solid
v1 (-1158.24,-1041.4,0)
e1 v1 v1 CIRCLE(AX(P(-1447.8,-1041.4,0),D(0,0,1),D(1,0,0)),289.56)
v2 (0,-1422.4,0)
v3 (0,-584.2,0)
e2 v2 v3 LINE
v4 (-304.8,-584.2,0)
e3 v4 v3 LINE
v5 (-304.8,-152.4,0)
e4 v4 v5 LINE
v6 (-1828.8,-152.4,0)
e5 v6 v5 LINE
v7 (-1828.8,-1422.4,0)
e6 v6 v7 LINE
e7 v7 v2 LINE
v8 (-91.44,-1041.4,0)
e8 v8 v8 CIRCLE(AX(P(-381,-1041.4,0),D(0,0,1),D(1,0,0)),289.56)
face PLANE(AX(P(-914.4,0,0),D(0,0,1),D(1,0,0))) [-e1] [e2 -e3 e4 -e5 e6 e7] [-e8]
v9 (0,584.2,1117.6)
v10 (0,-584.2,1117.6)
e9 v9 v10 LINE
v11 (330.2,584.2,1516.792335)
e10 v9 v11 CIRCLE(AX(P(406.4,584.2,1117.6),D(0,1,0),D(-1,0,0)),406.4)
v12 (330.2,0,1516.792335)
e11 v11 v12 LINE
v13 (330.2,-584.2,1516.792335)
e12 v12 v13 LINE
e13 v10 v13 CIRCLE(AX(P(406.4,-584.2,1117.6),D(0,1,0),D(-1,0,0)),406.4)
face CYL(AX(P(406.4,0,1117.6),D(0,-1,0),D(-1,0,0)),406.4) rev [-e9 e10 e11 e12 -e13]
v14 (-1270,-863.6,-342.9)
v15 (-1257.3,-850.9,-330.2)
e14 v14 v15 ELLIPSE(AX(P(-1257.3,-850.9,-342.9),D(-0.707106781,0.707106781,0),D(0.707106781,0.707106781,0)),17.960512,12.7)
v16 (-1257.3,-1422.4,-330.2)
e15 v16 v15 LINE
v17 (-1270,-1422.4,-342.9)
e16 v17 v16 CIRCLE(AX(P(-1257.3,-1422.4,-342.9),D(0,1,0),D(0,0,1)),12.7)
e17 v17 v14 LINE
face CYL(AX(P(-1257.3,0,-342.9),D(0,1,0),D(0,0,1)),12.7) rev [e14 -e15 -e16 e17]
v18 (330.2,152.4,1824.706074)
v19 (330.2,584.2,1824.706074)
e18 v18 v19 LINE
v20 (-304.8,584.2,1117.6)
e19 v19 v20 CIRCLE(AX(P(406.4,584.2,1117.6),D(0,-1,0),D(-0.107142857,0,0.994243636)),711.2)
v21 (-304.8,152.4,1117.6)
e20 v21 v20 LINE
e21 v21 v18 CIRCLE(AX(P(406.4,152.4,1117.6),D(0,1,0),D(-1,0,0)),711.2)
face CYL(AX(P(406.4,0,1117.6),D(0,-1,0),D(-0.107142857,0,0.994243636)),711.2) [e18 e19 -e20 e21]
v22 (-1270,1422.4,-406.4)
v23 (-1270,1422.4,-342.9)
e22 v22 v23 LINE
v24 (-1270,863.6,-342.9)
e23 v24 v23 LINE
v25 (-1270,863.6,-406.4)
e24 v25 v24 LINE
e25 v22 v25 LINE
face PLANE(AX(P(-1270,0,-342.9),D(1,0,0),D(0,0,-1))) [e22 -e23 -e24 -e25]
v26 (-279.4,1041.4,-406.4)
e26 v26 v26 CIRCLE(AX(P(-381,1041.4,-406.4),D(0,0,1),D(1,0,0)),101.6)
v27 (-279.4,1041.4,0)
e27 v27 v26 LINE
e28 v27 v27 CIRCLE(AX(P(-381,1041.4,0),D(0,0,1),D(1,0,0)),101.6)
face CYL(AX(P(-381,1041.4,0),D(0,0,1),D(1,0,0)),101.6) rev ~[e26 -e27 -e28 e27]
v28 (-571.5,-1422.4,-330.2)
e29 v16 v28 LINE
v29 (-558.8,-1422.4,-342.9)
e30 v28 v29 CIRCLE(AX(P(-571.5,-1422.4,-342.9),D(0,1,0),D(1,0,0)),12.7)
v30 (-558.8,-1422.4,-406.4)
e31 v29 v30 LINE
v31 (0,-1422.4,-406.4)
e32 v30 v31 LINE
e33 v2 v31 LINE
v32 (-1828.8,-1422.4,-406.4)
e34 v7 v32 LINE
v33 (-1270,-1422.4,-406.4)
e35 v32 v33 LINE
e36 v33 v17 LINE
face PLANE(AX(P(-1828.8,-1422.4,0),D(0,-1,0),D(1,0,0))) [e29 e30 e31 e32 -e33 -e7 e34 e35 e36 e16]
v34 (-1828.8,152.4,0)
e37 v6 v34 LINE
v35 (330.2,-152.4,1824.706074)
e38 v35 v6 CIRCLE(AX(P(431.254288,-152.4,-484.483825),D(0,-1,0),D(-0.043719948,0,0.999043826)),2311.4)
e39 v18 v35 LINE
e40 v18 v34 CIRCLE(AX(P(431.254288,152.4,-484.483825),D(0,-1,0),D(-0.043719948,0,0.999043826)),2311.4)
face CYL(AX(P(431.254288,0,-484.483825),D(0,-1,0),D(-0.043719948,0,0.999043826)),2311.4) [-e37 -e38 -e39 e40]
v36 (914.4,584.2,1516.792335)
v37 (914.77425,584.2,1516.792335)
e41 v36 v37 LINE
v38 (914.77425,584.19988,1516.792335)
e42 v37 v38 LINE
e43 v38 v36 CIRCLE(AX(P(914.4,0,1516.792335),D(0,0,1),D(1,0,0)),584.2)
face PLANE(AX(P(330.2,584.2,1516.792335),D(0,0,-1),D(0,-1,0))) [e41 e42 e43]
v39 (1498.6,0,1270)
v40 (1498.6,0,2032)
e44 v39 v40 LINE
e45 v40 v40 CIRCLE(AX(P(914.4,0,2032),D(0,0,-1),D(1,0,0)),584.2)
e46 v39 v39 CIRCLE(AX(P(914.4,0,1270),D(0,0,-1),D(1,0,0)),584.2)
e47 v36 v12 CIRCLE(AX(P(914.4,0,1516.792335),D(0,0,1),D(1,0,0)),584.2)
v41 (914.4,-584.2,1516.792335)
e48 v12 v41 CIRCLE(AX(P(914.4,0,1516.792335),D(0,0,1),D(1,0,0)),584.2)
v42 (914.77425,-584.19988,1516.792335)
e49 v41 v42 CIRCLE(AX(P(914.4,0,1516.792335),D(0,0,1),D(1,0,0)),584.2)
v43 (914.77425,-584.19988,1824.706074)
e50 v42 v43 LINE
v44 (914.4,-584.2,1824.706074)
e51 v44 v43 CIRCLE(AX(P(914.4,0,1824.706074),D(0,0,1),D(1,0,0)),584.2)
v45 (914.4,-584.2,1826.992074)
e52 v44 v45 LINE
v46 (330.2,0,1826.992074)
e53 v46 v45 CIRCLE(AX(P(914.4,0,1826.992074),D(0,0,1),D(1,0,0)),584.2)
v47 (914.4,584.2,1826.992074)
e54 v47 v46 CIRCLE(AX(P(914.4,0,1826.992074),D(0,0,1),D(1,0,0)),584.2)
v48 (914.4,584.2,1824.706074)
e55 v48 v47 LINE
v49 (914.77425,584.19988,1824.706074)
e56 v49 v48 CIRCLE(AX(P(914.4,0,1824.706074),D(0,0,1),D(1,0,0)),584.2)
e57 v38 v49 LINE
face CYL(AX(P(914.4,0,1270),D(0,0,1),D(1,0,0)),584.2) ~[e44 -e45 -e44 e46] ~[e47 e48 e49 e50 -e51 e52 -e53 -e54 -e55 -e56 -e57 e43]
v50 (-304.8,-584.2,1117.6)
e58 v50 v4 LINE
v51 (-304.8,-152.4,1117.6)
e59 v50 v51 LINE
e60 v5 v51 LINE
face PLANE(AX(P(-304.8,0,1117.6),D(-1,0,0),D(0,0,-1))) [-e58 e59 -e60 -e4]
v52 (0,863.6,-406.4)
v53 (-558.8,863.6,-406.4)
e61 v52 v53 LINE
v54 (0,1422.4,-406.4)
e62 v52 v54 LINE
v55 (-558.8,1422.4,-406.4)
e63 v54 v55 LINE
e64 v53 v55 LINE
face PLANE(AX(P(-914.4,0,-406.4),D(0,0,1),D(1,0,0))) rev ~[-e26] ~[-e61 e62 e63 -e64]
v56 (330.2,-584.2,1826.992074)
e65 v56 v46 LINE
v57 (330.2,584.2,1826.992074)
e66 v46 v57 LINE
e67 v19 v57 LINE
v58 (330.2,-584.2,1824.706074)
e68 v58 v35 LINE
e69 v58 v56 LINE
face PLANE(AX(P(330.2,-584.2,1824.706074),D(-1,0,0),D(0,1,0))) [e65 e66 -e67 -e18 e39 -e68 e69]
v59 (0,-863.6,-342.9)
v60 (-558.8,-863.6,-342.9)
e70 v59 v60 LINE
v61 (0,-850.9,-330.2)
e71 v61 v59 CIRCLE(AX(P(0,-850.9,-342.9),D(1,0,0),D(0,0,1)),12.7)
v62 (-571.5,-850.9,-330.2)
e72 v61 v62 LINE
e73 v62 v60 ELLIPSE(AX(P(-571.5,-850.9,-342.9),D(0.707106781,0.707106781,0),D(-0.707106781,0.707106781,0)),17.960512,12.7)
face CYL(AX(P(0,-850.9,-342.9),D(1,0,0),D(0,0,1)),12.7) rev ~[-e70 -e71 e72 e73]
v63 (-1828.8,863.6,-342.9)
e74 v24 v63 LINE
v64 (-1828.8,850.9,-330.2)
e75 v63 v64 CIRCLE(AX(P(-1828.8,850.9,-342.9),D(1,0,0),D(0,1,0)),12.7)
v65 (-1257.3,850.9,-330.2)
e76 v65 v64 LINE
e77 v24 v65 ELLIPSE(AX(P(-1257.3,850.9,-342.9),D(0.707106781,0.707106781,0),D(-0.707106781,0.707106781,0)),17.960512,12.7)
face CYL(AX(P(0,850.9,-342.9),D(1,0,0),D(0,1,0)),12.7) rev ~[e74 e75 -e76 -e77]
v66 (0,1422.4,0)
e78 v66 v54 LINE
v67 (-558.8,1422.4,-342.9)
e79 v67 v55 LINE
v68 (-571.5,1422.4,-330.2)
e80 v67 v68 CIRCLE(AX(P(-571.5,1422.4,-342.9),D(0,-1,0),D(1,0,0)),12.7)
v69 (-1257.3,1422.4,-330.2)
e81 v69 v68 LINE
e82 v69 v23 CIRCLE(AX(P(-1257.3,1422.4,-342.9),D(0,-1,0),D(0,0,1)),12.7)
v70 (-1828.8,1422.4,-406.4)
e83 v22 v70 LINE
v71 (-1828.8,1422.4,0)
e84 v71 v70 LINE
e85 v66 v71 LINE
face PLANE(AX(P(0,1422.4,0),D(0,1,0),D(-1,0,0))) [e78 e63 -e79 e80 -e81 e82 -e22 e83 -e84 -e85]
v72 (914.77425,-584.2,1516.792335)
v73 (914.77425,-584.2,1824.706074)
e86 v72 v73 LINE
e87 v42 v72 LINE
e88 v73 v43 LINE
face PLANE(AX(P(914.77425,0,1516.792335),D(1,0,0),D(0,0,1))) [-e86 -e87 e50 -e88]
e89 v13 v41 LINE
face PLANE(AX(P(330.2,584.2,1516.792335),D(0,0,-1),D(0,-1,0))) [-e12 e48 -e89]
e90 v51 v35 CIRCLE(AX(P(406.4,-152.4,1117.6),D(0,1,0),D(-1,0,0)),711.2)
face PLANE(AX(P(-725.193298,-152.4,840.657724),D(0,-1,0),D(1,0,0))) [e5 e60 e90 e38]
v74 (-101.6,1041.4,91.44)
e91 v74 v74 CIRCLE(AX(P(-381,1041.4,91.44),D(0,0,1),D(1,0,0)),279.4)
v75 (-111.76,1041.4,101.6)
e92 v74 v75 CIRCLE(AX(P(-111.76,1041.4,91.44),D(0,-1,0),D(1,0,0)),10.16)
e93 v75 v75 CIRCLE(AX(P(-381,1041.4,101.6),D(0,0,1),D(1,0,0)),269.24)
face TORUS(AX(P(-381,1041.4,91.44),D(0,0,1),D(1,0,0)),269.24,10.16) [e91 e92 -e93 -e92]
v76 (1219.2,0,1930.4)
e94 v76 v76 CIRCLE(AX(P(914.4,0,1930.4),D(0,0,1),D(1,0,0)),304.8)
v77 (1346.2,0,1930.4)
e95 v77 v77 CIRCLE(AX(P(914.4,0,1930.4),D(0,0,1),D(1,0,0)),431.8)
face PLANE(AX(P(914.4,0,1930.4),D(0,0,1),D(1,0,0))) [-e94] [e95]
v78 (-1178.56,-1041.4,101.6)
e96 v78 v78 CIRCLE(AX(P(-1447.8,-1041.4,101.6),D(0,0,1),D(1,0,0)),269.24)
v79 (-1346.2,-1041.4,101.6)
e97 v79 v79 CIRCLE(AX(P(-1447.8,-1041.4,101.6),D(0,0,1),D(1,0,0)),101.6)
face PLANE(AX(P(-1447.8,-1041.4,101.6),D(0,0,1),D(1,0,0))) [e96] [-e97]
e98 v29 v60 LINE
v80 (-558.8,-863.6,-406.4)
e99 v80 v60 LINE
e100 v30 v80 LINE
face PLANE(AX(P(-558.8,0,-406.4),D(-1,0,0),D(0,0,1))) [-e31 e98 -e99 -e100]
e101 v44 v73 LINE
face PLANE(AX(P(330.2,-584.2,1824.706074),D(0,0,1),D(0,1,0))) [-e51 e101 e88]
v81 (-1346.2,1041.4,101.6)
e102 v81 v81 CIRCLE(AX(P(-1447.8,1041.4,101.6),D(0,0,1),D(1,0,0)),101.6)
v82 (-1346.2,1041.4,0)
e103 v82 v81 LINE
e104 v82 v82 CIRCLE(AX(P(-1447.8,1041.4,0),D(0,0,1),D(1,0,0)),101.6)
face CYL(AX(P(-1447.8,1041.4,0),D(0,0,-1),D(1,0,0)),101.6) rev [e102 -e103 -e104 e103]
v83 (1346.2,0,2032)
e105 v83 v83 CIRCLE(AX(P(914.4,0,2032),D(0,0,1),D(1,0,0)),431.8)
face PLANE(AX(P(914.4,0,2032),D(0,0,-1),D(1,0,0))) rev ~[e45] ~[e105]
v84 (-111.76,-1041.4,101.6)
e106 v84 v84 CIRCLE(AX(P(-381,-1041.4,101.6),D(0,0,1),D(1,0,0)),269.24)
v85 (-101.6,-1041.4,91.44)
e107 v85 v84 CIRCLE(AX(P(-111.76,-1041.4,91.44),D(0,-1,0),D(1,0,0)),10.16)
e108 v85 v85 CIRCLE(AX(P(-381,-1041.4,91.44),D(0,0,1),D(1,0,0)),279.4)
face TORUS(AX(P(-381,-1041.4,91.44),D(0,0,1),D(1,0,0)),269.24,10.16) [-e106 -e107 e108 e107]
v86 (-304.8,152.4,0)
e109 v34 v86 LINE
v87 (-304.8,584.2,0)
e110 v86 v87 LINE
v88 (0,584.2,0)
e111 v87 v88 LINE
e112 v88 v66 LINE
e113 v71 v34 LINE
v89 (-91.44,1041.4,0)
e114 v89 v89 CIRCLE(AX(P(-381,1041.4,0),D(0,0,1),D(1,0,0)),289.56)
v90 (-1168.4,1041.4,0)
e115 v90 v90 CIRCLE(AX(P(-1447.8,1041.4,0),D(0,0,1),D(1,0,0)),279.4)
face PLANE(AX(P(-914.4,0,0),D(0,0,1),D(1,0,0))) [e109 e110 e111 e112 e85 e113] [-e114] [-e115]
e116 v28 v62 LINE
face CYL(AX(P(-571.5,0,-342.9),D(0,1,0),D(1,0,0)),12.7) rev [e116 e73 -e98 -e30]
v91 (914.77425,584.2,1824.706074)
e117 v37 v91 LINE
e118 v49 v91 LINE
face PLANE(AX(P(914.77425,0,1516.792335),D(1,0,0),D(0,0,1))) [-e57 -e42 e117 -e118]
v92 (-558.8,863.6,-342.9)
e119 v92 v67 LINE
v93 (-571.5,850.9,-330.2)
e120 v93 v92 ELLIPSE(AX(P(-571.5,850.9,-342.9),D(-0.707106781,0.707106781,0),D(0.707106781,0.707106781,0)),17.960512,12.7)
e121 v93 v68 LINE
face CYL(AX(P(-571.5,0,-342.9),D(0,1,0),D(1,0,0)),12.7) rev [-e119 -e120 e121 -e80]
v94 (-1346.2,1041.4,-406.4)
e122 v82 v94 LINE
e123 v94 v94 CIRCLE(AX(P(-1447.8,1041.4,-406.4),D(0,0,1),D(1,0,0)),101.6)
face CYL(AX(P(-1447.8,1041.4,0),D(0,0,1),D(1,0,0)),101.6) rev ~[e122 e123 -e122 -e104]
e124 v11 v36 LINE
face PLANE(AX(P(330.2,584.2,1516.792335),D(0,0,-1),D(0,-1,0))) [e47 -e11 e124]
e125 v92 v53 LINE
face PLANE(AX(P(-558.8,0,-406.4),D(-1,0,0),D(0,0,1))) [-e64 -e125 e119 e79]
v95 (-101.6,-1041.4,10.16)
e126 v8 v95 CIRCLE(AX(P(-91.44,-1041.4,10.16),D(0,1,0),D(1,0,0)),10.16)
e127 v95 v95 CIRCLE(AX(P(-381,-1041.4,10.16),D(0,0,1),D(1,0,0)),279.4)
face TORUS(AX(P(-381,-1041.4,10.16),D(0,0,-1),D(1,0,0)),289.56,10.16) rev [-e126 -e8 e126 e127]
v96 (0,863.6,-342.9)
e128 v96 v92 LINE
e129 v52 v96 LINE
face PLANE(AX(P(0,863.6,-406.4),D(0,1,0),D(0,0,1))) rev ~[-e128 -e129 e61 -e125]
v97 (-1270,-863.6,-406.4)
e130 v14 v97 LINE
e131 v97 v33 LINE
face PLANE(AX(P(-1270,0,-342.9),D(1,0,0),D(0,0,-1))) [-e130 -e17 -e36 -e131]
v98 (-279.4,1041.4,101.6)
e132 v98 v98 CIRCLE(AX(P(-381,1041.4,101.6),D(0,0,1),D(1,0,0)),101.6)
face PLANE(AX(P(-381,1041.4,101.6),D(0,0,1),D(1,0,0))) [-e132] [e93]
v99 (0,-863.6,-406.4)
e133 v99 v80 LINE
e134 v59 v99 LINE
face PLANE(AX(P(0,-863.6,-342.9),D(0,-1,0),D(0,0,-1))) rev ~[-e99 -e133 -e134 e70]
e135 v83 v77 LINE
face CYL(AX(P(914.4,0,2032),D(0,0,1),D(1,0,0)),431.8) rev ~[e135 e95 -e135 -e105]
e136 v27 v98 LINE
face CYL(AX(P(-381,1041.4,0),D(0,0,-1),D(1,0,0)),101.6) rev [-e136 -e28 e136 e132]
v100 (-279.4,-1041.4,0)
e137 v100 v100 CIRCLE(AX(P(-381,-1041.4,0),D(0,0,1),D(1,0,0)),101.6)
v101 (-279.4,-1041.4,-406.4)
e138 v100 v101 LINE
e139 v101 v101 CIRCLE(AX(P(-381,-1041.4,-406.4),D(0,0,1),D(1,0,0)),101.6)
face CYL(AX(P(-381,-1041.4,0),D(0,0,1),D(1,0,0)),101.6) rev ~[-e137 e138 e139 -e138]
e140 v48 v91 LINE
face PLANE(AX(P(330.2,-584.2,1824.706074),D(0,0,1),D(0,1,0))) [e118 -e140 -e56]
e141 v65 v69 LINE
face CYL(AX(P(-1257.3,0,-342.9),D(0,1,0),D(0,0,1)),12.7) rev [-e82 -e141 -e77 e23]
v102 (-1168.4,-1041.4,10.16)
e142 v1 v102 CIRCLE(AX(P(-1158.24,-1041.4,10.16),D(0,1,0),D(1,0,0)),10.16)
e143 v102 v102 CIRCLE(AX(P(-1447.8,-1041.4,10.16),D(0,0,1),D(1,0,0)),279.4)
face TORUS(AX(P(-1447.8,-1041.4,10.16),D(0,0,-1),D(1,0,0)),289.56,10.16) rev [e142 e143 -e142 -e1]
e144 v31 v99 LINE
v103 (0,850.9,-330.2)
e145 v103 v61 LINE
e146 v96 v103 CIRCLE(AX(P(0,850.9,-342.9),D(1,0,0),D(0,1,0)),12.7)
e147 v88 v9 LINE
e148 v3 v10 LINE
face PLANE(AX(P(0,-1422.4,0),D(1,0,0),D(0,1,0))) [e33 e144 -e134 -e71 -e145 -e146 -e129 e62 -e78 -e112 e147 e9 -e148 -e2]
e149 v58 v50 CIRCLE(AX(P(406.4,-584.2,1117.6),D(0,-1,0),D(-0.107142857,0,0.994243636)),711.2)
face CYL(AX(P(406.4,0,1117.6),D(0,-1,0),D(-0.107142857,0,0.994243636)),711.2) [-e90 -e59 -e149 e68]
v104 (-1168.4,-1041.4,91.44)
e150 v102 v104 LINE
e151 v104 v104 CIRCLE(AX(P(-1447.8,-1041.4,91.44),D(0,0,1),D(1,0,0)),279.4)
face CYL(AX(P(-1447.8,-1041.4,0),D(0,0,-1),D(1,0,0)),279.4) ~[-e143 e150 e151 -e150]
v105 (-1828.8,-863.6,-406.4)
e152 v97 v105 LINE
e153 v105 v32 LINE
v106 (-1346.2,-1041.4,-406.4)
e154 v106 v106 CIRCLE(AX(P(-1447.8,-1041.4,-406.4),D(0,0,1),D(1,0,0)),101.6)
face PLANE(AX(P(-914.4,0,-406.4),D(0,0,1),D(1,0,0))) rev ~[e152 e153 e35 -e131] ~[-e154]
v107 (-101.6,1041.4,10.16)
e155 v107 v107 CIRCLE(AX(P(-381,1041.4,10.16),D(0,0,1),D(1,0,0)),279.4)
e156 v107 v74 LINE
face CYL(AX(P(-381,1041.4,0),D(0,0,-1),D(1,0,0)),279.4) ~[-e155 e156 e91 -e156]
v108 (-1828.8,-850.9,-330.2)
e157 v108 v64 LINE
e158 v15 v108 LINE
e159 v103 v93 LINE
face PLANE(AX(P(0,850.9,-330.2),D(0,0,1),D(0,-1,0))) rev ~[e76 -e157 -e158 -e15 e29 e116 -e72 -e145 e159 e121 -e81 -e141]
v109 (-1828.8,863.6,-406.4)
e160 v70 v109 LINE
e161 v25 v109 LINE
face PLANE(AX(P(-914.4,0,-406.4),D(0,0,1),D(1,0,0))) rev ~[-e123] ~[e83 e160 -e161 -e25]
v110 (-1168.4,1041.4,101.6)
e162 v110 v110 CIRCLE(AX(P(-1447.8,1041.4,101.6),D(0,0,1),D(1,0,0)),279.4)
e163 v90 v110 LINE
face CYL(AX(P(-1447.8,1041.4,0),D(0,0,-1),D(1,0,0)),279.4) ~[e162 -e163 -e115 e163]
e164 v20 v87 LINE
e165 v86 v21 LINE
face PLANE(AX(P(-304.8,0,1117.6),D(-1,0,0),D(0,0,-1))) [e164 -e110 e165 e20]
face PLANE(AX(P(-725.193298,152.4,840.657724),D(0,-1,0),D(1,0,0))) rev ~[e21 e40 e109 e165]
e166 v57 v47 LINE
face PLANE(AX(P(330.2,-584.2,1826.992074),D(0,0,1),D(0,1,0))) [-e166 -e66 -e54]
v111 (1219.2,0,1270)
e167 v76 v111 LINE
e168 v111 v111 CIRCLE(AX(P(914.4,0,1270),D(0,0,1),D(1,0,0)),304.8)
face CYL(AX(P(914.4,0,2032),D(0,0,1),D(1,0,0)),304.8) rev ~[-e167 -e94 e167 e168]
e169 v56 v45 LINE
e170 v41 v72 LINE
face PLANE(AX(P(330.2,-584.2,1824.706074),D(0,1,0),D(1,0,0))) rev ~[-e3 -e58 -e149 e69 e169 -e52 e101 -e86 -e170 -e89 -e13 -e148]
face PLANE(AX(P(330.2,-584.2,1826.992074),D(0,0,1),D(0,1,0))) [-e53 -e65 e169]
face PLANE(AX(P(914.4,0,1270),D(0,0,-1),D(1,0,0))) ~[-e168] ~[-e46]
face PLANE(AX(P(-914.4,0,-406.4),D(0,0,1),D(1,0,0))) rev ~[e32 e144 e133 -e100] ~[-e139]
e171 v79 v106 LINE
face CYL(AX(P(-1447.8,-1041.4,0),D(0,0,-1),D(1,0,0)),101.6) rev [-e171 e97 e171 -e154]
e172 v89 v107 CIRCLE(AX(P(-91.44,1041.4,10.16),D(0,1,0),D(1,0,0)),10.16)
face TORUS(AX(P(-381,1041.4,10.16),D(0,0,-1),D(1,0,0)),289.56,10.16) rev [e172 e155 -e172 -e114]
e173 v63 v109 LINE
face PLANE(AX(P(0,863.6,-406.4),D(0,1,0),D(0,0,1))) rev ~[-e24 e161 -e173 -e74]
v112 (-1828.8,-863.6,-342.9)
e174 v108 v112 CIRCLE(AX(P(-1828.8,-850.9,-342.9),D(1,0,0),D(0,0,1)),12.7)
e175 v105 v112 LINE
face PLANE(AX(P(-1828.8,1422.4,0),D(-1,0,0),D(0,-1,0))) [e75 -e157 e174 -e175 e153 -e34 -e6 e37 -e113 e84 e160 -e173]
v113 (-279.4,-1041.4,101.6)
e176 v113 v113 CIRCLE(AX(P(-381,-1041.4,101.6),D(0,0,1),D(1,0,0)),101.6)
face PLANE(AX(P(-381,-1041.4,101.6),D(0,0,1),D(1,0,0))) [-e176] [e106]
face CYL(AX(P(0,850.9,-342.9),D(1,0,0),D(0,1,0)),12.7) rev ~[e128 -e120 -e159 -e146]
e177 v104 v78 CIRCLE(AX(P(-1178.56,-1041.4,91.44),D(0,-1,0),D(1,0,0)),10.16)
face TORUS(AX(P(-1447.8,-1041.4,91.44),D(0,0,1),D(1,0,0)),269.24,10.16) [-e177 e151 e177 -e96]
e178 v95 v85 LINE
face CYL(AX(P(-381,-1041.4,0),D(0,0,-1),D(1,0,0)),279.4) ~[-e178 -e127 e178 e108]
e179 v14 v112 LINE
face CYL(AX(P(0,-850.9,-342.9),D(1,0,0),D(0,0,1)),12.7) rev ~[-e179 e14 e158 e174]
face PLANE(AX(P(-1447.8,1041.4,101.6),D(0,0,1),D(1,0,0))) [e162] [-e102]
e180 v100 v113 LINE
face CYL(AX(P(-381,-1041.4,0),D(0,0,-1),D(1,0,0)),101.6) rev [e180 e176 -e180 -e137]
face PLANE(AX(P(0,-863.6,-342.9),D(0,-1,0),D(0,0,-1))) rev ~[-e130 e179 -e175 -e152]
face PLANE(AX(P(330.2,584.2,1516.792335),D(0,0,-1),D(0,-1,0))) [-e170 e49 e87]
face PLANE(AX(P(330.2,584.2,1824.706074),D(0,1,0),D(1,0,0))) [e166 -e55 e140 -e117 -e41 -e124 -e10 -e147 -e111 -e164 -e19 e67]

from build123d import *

# Parameters (mm, degrees)
F3_DEPTH  = 584.2
F4_DEPTH  = 584.57425
F6_DEPTH  = 152.4
F1_R      = 279.4
F1_R_2    = 101.6
F7_DEPTH  = 406.4
F8_DEPTH  = 101.6
F9_DEPTH  = 1422.401
F10_DEPTH = 1422.401
F11_DEPTH = 2.286
F12_R     = 304.8
F13_DEPTH = 2438.401
F12_R_2   = 431.8
F14_DEPTH = 101.6
F16_DEPTH = 1828.801
F17_R     = 10.16


with BuildPart() as f2:
    # F0 (on Front) → F2 (revolve)
    with BuildSketch(Plane.XZ):
        Polygon((914.4, 1524), (914.4, 1270), (1498.6, 1270), (1498.6, 2032), (914.4, 2032), (914.4, 1828.8), align=None)
    revolve(axis=Axis((914.4, 0, 1651), (0, 0, -1)))


with BuildPart() as f3:
    # F0 (on Front) → F3 (new body, symmetric)
    with BuildSketch(Plane.XZ):
        with BuildLine():
            Line((-304.8, 0), (0, 0))
            Line((0, 0), (0, 1117.6))
            ThreePointArc((0, 1117.6), (93.2477686492, 1376.6301912905), (330.2, 1516.7923345957))
            Line((330.2, 1516.7923345957), (330.2, 1824.7060740794))
            ThreePointArc((330.2, 1824.7060740794), (-122.7497330624, 1592.7904881203), (-304.8, 1117.6))
            Line((-304.8, 1117.6), (-304.8, 0))
        make_face()
    extrude(amount=F3_DEPTH, both=True)


with BuildPart() as f4:
    # F4 (new): a face of the model
    f4_faces = [f3.part.faces().sort_by_distance(p)[0] for p in [
        (330.2, 0, 1670.7492043376),
    ]]
    extrude(f4_faces, amount=F4_DEPTH)


with BuildPart() as f2_1:
    add(f2.part)

    # F5: union F3, F4
    add(f3.part)
    add(f4.part)



with BuildPart() as f6:
    # F0 (on Front) → F6 (new body, symmetric)
    with BuildSketch(Plane.XZ):
        with BuildLine():
            Line((-563.1106240493, 0), (-304.8, 0))
            Line((-304.8, 0), (-304.8, 1117.6))
            ThreePointArc((-304.8, 1117.6), (-122.7497330624, 1592.7904881203), (330.2, 1824.7060740794))
            ThreePointArc((330.2, 1824.7060740794), (-1060.7566004757, 1280.8698135108), (-1828.8, 0))
            Line((-1828.8, 0), (-563.1106240493, 0))
        make_face()
    extrude(amount=F6_DEPTH, both=True)


with BuildPart() as f2_2:
    add(f2_1.part)

    add(f6.part)  # F7 merges F6
    # F1 (on Top) → F7 (join)
    with BuildSketch(Plane.XY):
        Polygon((-1828.8, 1422.4), (-1828.8, 0), (-1828.8, -1422.4), (0, -1422.4), (0, 1422.4), align=None)
        with Locations((-1447.8, -1041.4)):
            Circle(F1_R, mode=Mode.SUBTRACT)
        with Locations((-381, -1041.4)):
            Circle(F1_R, mode=Mode.SUBTRACT)
        with Locations((-1447.8, 1041.4)):
            Circle(F1_R, mode=Mode.SUBTRACT)
        with Locations((-381, 1041.4)):
            Circle(F1_R, mode=Mode.SUBTRACT)
        with Locations((-1447.8, -1041.4)):
            Circle(F1_R)
        with Locations((-1447.8, -1041.4)):
            Circle(F1_R_2, mode=Mode.SUBTRACT)
        with Locations((-381, -1041.4)):
            Circle(F1_R)
        with Locations((-381, -1041.4)):
            Circle(F1_R_2, mode=Mode.SUBTRACT)
        with Locations((-381, 1041.4)):
            Circle(F1_R)
        with Locations((-381, 1041.4)):
            Circle(F1_R_2, mode=Mode.SUBTRACT)
        with Locations((-1447.8, 1041.4)):
            Circle(F1_R)
        with Locations((-1447.8, 1041.4)):
            Circle(F1_R_2, mode=Mode.SUBTRACT)
    extrude(amount=-F7_DEPTH)

    # F1 (on Top) → F8 (join)
    with BuildSketch(Plane.XY):
        with Locations((-1447.8, -1041.4)):
            Circle(F1_R)
        with Locations((-1447.8, -1041.4)):
            Circle(F1_R_2, mode=Mode.SUBTRACT)
        with Locations((-381, -1041.4)):
            Circle(F1_R)
        with Locations((-381, -1041.4)):
            Circle(F1_R_2, mode=Mode.SUBTRACT)
        with Locations((-381, 1041.4)):
            Circle(F1_R)
        with Locations((-381, 1041.4)):
            Circle(F1_R_2, mode=Mode.SUBTRACT)
        with Locations((-1447.8, 1041.4)):
            Circle(F1_R)
        with Locations((-1447.8, 1041.4)):
            Circle(F1_R_2, mode=Mode.SUBTRACT)
    extrude(amount=F8_DEPTH)

    # F0 (on Front) → F9 (cut, through all)
    with BuildSketch(Plane.XZ):
        with BuildLine():
            Line((-1270, -406.4), (-558.8, -406.4))
            Line((-558.8, -406.4), (-558.8, -342.9))
            ThreePointArc((-558.8, -342.9), (-562.5197438789, -333.9197438789), (-571.5, -330.2))
            Line((-571.5, -330.2), (-1257.3, -330.2))
            ThreePointArc((-1257.3, -330.2), (-1266.2802561211, -333.9197438789), (-1270, -342.9))
            Line((-1270, -342.9), (-1270, -406.4))
        make_face()
    extrude(amount=F9_DEPTH, mode=Mode.SUBTRACT)

    # F0 (on Front) → F10 (cut, through all)
    with BuildSketch(Plane.XZ):
        with BuildLine():
            Line((-1270, -406.4), (-558.8, -406.4))
            Line((-558.8, -406.4), (-558.8, -342.9))
            ThreePointArc((-558.8, -342.9), (-562.5197438789, -333.9197438789), (-571.5, -330.2))
            Line((-571.5, -330.2), (-1257.3, -330.2))
            ThreePointArc((-1257.3, -330.2), (-1266.2802561211, -333.9197438789), (-1270, -342.9))
            Line((-1270, -342.9), (-1270, -406.4))
        make_face()
    extrude(amount=-F10_DEPTH, mode=Mode.SUBTRACT)

    # F11 (add): faces of the model
    f11_faces = [f2_2.faces().sort_by_distance(p)[0] for p in [
        (460.6915499321, -453.7084500679, 1824.7060740794),
        (460.6915499321, 453.7084500679, 1824.7060740794),
    ]]
    extrude(f11_faces, amount=F11_DEPTH)

    # F12 (on face) → F13 (cut, through all)
    with BuildSketch(Plane.XY.offset(2032)):
        with Locations((914.4, 0)):
            Circle(F12_R)
    extrude(amount=-F13_DEPTH, mode=Mode.SUBTRACT)

    # F12 (on face) → F14 (cut)
    with BuildSketch(Plane.XY.offset(2032)):
        with Locations((914.4, 0)):
            Circle(F12_R_2)
        with Locations((914.4, 0)):
            Circle(F12_R, mode=Mode.SUBTRACT)
    extrude(amount=-F14_DEPTH, mode=Mode.SUBTRACT)

    # F15 (on face) → F16 (cut, through all)
    with BuildSketch(Plane.YZ):
        with BuildLine():
            Line((-863.6, -342.9), (-863.6, -406.4))
            Line((-863.6, -406.4), (863.6, -406.4))
            Line((863.6, -406.4), (863.6, -342.9))
            ThreePointArc((863.6, -342.9), (859.8802561211, -333.9197438789), (850.9, -330.2))
            Line((850.9, -330.2), (-850.9, -330.2))
            ThreePointArc((-850.9, -330.2), (-859.8802561211, -333.9197438789), (-863.6, -342.9))
        make_face()
    extrude(amount=-F16_DEPTH, mode=Mode.SUBTRACT)

    # F17
    f17_edges = [f2_2.edges().sort_by_distance(p)[0] for p in [
        (-1168.4, -1041.4, 50.8),
        (-1727.2, -1041.4, 0),
        (-1727.2, -1041.4, 101.6),
        (-101.6, -1041.4, 50.8),
        (-660.4, -1041.4, 0),
        (-660.4, -1041.4, 101.6),
        (-101.6, 1041.4, 50.8),
        (-660.4, 1041.4, 0),
        (-660.4, 1041.4, 101.6),
    ]]
    fillet(f17_edges, radius=F17_R)


solid = f2_2.part
